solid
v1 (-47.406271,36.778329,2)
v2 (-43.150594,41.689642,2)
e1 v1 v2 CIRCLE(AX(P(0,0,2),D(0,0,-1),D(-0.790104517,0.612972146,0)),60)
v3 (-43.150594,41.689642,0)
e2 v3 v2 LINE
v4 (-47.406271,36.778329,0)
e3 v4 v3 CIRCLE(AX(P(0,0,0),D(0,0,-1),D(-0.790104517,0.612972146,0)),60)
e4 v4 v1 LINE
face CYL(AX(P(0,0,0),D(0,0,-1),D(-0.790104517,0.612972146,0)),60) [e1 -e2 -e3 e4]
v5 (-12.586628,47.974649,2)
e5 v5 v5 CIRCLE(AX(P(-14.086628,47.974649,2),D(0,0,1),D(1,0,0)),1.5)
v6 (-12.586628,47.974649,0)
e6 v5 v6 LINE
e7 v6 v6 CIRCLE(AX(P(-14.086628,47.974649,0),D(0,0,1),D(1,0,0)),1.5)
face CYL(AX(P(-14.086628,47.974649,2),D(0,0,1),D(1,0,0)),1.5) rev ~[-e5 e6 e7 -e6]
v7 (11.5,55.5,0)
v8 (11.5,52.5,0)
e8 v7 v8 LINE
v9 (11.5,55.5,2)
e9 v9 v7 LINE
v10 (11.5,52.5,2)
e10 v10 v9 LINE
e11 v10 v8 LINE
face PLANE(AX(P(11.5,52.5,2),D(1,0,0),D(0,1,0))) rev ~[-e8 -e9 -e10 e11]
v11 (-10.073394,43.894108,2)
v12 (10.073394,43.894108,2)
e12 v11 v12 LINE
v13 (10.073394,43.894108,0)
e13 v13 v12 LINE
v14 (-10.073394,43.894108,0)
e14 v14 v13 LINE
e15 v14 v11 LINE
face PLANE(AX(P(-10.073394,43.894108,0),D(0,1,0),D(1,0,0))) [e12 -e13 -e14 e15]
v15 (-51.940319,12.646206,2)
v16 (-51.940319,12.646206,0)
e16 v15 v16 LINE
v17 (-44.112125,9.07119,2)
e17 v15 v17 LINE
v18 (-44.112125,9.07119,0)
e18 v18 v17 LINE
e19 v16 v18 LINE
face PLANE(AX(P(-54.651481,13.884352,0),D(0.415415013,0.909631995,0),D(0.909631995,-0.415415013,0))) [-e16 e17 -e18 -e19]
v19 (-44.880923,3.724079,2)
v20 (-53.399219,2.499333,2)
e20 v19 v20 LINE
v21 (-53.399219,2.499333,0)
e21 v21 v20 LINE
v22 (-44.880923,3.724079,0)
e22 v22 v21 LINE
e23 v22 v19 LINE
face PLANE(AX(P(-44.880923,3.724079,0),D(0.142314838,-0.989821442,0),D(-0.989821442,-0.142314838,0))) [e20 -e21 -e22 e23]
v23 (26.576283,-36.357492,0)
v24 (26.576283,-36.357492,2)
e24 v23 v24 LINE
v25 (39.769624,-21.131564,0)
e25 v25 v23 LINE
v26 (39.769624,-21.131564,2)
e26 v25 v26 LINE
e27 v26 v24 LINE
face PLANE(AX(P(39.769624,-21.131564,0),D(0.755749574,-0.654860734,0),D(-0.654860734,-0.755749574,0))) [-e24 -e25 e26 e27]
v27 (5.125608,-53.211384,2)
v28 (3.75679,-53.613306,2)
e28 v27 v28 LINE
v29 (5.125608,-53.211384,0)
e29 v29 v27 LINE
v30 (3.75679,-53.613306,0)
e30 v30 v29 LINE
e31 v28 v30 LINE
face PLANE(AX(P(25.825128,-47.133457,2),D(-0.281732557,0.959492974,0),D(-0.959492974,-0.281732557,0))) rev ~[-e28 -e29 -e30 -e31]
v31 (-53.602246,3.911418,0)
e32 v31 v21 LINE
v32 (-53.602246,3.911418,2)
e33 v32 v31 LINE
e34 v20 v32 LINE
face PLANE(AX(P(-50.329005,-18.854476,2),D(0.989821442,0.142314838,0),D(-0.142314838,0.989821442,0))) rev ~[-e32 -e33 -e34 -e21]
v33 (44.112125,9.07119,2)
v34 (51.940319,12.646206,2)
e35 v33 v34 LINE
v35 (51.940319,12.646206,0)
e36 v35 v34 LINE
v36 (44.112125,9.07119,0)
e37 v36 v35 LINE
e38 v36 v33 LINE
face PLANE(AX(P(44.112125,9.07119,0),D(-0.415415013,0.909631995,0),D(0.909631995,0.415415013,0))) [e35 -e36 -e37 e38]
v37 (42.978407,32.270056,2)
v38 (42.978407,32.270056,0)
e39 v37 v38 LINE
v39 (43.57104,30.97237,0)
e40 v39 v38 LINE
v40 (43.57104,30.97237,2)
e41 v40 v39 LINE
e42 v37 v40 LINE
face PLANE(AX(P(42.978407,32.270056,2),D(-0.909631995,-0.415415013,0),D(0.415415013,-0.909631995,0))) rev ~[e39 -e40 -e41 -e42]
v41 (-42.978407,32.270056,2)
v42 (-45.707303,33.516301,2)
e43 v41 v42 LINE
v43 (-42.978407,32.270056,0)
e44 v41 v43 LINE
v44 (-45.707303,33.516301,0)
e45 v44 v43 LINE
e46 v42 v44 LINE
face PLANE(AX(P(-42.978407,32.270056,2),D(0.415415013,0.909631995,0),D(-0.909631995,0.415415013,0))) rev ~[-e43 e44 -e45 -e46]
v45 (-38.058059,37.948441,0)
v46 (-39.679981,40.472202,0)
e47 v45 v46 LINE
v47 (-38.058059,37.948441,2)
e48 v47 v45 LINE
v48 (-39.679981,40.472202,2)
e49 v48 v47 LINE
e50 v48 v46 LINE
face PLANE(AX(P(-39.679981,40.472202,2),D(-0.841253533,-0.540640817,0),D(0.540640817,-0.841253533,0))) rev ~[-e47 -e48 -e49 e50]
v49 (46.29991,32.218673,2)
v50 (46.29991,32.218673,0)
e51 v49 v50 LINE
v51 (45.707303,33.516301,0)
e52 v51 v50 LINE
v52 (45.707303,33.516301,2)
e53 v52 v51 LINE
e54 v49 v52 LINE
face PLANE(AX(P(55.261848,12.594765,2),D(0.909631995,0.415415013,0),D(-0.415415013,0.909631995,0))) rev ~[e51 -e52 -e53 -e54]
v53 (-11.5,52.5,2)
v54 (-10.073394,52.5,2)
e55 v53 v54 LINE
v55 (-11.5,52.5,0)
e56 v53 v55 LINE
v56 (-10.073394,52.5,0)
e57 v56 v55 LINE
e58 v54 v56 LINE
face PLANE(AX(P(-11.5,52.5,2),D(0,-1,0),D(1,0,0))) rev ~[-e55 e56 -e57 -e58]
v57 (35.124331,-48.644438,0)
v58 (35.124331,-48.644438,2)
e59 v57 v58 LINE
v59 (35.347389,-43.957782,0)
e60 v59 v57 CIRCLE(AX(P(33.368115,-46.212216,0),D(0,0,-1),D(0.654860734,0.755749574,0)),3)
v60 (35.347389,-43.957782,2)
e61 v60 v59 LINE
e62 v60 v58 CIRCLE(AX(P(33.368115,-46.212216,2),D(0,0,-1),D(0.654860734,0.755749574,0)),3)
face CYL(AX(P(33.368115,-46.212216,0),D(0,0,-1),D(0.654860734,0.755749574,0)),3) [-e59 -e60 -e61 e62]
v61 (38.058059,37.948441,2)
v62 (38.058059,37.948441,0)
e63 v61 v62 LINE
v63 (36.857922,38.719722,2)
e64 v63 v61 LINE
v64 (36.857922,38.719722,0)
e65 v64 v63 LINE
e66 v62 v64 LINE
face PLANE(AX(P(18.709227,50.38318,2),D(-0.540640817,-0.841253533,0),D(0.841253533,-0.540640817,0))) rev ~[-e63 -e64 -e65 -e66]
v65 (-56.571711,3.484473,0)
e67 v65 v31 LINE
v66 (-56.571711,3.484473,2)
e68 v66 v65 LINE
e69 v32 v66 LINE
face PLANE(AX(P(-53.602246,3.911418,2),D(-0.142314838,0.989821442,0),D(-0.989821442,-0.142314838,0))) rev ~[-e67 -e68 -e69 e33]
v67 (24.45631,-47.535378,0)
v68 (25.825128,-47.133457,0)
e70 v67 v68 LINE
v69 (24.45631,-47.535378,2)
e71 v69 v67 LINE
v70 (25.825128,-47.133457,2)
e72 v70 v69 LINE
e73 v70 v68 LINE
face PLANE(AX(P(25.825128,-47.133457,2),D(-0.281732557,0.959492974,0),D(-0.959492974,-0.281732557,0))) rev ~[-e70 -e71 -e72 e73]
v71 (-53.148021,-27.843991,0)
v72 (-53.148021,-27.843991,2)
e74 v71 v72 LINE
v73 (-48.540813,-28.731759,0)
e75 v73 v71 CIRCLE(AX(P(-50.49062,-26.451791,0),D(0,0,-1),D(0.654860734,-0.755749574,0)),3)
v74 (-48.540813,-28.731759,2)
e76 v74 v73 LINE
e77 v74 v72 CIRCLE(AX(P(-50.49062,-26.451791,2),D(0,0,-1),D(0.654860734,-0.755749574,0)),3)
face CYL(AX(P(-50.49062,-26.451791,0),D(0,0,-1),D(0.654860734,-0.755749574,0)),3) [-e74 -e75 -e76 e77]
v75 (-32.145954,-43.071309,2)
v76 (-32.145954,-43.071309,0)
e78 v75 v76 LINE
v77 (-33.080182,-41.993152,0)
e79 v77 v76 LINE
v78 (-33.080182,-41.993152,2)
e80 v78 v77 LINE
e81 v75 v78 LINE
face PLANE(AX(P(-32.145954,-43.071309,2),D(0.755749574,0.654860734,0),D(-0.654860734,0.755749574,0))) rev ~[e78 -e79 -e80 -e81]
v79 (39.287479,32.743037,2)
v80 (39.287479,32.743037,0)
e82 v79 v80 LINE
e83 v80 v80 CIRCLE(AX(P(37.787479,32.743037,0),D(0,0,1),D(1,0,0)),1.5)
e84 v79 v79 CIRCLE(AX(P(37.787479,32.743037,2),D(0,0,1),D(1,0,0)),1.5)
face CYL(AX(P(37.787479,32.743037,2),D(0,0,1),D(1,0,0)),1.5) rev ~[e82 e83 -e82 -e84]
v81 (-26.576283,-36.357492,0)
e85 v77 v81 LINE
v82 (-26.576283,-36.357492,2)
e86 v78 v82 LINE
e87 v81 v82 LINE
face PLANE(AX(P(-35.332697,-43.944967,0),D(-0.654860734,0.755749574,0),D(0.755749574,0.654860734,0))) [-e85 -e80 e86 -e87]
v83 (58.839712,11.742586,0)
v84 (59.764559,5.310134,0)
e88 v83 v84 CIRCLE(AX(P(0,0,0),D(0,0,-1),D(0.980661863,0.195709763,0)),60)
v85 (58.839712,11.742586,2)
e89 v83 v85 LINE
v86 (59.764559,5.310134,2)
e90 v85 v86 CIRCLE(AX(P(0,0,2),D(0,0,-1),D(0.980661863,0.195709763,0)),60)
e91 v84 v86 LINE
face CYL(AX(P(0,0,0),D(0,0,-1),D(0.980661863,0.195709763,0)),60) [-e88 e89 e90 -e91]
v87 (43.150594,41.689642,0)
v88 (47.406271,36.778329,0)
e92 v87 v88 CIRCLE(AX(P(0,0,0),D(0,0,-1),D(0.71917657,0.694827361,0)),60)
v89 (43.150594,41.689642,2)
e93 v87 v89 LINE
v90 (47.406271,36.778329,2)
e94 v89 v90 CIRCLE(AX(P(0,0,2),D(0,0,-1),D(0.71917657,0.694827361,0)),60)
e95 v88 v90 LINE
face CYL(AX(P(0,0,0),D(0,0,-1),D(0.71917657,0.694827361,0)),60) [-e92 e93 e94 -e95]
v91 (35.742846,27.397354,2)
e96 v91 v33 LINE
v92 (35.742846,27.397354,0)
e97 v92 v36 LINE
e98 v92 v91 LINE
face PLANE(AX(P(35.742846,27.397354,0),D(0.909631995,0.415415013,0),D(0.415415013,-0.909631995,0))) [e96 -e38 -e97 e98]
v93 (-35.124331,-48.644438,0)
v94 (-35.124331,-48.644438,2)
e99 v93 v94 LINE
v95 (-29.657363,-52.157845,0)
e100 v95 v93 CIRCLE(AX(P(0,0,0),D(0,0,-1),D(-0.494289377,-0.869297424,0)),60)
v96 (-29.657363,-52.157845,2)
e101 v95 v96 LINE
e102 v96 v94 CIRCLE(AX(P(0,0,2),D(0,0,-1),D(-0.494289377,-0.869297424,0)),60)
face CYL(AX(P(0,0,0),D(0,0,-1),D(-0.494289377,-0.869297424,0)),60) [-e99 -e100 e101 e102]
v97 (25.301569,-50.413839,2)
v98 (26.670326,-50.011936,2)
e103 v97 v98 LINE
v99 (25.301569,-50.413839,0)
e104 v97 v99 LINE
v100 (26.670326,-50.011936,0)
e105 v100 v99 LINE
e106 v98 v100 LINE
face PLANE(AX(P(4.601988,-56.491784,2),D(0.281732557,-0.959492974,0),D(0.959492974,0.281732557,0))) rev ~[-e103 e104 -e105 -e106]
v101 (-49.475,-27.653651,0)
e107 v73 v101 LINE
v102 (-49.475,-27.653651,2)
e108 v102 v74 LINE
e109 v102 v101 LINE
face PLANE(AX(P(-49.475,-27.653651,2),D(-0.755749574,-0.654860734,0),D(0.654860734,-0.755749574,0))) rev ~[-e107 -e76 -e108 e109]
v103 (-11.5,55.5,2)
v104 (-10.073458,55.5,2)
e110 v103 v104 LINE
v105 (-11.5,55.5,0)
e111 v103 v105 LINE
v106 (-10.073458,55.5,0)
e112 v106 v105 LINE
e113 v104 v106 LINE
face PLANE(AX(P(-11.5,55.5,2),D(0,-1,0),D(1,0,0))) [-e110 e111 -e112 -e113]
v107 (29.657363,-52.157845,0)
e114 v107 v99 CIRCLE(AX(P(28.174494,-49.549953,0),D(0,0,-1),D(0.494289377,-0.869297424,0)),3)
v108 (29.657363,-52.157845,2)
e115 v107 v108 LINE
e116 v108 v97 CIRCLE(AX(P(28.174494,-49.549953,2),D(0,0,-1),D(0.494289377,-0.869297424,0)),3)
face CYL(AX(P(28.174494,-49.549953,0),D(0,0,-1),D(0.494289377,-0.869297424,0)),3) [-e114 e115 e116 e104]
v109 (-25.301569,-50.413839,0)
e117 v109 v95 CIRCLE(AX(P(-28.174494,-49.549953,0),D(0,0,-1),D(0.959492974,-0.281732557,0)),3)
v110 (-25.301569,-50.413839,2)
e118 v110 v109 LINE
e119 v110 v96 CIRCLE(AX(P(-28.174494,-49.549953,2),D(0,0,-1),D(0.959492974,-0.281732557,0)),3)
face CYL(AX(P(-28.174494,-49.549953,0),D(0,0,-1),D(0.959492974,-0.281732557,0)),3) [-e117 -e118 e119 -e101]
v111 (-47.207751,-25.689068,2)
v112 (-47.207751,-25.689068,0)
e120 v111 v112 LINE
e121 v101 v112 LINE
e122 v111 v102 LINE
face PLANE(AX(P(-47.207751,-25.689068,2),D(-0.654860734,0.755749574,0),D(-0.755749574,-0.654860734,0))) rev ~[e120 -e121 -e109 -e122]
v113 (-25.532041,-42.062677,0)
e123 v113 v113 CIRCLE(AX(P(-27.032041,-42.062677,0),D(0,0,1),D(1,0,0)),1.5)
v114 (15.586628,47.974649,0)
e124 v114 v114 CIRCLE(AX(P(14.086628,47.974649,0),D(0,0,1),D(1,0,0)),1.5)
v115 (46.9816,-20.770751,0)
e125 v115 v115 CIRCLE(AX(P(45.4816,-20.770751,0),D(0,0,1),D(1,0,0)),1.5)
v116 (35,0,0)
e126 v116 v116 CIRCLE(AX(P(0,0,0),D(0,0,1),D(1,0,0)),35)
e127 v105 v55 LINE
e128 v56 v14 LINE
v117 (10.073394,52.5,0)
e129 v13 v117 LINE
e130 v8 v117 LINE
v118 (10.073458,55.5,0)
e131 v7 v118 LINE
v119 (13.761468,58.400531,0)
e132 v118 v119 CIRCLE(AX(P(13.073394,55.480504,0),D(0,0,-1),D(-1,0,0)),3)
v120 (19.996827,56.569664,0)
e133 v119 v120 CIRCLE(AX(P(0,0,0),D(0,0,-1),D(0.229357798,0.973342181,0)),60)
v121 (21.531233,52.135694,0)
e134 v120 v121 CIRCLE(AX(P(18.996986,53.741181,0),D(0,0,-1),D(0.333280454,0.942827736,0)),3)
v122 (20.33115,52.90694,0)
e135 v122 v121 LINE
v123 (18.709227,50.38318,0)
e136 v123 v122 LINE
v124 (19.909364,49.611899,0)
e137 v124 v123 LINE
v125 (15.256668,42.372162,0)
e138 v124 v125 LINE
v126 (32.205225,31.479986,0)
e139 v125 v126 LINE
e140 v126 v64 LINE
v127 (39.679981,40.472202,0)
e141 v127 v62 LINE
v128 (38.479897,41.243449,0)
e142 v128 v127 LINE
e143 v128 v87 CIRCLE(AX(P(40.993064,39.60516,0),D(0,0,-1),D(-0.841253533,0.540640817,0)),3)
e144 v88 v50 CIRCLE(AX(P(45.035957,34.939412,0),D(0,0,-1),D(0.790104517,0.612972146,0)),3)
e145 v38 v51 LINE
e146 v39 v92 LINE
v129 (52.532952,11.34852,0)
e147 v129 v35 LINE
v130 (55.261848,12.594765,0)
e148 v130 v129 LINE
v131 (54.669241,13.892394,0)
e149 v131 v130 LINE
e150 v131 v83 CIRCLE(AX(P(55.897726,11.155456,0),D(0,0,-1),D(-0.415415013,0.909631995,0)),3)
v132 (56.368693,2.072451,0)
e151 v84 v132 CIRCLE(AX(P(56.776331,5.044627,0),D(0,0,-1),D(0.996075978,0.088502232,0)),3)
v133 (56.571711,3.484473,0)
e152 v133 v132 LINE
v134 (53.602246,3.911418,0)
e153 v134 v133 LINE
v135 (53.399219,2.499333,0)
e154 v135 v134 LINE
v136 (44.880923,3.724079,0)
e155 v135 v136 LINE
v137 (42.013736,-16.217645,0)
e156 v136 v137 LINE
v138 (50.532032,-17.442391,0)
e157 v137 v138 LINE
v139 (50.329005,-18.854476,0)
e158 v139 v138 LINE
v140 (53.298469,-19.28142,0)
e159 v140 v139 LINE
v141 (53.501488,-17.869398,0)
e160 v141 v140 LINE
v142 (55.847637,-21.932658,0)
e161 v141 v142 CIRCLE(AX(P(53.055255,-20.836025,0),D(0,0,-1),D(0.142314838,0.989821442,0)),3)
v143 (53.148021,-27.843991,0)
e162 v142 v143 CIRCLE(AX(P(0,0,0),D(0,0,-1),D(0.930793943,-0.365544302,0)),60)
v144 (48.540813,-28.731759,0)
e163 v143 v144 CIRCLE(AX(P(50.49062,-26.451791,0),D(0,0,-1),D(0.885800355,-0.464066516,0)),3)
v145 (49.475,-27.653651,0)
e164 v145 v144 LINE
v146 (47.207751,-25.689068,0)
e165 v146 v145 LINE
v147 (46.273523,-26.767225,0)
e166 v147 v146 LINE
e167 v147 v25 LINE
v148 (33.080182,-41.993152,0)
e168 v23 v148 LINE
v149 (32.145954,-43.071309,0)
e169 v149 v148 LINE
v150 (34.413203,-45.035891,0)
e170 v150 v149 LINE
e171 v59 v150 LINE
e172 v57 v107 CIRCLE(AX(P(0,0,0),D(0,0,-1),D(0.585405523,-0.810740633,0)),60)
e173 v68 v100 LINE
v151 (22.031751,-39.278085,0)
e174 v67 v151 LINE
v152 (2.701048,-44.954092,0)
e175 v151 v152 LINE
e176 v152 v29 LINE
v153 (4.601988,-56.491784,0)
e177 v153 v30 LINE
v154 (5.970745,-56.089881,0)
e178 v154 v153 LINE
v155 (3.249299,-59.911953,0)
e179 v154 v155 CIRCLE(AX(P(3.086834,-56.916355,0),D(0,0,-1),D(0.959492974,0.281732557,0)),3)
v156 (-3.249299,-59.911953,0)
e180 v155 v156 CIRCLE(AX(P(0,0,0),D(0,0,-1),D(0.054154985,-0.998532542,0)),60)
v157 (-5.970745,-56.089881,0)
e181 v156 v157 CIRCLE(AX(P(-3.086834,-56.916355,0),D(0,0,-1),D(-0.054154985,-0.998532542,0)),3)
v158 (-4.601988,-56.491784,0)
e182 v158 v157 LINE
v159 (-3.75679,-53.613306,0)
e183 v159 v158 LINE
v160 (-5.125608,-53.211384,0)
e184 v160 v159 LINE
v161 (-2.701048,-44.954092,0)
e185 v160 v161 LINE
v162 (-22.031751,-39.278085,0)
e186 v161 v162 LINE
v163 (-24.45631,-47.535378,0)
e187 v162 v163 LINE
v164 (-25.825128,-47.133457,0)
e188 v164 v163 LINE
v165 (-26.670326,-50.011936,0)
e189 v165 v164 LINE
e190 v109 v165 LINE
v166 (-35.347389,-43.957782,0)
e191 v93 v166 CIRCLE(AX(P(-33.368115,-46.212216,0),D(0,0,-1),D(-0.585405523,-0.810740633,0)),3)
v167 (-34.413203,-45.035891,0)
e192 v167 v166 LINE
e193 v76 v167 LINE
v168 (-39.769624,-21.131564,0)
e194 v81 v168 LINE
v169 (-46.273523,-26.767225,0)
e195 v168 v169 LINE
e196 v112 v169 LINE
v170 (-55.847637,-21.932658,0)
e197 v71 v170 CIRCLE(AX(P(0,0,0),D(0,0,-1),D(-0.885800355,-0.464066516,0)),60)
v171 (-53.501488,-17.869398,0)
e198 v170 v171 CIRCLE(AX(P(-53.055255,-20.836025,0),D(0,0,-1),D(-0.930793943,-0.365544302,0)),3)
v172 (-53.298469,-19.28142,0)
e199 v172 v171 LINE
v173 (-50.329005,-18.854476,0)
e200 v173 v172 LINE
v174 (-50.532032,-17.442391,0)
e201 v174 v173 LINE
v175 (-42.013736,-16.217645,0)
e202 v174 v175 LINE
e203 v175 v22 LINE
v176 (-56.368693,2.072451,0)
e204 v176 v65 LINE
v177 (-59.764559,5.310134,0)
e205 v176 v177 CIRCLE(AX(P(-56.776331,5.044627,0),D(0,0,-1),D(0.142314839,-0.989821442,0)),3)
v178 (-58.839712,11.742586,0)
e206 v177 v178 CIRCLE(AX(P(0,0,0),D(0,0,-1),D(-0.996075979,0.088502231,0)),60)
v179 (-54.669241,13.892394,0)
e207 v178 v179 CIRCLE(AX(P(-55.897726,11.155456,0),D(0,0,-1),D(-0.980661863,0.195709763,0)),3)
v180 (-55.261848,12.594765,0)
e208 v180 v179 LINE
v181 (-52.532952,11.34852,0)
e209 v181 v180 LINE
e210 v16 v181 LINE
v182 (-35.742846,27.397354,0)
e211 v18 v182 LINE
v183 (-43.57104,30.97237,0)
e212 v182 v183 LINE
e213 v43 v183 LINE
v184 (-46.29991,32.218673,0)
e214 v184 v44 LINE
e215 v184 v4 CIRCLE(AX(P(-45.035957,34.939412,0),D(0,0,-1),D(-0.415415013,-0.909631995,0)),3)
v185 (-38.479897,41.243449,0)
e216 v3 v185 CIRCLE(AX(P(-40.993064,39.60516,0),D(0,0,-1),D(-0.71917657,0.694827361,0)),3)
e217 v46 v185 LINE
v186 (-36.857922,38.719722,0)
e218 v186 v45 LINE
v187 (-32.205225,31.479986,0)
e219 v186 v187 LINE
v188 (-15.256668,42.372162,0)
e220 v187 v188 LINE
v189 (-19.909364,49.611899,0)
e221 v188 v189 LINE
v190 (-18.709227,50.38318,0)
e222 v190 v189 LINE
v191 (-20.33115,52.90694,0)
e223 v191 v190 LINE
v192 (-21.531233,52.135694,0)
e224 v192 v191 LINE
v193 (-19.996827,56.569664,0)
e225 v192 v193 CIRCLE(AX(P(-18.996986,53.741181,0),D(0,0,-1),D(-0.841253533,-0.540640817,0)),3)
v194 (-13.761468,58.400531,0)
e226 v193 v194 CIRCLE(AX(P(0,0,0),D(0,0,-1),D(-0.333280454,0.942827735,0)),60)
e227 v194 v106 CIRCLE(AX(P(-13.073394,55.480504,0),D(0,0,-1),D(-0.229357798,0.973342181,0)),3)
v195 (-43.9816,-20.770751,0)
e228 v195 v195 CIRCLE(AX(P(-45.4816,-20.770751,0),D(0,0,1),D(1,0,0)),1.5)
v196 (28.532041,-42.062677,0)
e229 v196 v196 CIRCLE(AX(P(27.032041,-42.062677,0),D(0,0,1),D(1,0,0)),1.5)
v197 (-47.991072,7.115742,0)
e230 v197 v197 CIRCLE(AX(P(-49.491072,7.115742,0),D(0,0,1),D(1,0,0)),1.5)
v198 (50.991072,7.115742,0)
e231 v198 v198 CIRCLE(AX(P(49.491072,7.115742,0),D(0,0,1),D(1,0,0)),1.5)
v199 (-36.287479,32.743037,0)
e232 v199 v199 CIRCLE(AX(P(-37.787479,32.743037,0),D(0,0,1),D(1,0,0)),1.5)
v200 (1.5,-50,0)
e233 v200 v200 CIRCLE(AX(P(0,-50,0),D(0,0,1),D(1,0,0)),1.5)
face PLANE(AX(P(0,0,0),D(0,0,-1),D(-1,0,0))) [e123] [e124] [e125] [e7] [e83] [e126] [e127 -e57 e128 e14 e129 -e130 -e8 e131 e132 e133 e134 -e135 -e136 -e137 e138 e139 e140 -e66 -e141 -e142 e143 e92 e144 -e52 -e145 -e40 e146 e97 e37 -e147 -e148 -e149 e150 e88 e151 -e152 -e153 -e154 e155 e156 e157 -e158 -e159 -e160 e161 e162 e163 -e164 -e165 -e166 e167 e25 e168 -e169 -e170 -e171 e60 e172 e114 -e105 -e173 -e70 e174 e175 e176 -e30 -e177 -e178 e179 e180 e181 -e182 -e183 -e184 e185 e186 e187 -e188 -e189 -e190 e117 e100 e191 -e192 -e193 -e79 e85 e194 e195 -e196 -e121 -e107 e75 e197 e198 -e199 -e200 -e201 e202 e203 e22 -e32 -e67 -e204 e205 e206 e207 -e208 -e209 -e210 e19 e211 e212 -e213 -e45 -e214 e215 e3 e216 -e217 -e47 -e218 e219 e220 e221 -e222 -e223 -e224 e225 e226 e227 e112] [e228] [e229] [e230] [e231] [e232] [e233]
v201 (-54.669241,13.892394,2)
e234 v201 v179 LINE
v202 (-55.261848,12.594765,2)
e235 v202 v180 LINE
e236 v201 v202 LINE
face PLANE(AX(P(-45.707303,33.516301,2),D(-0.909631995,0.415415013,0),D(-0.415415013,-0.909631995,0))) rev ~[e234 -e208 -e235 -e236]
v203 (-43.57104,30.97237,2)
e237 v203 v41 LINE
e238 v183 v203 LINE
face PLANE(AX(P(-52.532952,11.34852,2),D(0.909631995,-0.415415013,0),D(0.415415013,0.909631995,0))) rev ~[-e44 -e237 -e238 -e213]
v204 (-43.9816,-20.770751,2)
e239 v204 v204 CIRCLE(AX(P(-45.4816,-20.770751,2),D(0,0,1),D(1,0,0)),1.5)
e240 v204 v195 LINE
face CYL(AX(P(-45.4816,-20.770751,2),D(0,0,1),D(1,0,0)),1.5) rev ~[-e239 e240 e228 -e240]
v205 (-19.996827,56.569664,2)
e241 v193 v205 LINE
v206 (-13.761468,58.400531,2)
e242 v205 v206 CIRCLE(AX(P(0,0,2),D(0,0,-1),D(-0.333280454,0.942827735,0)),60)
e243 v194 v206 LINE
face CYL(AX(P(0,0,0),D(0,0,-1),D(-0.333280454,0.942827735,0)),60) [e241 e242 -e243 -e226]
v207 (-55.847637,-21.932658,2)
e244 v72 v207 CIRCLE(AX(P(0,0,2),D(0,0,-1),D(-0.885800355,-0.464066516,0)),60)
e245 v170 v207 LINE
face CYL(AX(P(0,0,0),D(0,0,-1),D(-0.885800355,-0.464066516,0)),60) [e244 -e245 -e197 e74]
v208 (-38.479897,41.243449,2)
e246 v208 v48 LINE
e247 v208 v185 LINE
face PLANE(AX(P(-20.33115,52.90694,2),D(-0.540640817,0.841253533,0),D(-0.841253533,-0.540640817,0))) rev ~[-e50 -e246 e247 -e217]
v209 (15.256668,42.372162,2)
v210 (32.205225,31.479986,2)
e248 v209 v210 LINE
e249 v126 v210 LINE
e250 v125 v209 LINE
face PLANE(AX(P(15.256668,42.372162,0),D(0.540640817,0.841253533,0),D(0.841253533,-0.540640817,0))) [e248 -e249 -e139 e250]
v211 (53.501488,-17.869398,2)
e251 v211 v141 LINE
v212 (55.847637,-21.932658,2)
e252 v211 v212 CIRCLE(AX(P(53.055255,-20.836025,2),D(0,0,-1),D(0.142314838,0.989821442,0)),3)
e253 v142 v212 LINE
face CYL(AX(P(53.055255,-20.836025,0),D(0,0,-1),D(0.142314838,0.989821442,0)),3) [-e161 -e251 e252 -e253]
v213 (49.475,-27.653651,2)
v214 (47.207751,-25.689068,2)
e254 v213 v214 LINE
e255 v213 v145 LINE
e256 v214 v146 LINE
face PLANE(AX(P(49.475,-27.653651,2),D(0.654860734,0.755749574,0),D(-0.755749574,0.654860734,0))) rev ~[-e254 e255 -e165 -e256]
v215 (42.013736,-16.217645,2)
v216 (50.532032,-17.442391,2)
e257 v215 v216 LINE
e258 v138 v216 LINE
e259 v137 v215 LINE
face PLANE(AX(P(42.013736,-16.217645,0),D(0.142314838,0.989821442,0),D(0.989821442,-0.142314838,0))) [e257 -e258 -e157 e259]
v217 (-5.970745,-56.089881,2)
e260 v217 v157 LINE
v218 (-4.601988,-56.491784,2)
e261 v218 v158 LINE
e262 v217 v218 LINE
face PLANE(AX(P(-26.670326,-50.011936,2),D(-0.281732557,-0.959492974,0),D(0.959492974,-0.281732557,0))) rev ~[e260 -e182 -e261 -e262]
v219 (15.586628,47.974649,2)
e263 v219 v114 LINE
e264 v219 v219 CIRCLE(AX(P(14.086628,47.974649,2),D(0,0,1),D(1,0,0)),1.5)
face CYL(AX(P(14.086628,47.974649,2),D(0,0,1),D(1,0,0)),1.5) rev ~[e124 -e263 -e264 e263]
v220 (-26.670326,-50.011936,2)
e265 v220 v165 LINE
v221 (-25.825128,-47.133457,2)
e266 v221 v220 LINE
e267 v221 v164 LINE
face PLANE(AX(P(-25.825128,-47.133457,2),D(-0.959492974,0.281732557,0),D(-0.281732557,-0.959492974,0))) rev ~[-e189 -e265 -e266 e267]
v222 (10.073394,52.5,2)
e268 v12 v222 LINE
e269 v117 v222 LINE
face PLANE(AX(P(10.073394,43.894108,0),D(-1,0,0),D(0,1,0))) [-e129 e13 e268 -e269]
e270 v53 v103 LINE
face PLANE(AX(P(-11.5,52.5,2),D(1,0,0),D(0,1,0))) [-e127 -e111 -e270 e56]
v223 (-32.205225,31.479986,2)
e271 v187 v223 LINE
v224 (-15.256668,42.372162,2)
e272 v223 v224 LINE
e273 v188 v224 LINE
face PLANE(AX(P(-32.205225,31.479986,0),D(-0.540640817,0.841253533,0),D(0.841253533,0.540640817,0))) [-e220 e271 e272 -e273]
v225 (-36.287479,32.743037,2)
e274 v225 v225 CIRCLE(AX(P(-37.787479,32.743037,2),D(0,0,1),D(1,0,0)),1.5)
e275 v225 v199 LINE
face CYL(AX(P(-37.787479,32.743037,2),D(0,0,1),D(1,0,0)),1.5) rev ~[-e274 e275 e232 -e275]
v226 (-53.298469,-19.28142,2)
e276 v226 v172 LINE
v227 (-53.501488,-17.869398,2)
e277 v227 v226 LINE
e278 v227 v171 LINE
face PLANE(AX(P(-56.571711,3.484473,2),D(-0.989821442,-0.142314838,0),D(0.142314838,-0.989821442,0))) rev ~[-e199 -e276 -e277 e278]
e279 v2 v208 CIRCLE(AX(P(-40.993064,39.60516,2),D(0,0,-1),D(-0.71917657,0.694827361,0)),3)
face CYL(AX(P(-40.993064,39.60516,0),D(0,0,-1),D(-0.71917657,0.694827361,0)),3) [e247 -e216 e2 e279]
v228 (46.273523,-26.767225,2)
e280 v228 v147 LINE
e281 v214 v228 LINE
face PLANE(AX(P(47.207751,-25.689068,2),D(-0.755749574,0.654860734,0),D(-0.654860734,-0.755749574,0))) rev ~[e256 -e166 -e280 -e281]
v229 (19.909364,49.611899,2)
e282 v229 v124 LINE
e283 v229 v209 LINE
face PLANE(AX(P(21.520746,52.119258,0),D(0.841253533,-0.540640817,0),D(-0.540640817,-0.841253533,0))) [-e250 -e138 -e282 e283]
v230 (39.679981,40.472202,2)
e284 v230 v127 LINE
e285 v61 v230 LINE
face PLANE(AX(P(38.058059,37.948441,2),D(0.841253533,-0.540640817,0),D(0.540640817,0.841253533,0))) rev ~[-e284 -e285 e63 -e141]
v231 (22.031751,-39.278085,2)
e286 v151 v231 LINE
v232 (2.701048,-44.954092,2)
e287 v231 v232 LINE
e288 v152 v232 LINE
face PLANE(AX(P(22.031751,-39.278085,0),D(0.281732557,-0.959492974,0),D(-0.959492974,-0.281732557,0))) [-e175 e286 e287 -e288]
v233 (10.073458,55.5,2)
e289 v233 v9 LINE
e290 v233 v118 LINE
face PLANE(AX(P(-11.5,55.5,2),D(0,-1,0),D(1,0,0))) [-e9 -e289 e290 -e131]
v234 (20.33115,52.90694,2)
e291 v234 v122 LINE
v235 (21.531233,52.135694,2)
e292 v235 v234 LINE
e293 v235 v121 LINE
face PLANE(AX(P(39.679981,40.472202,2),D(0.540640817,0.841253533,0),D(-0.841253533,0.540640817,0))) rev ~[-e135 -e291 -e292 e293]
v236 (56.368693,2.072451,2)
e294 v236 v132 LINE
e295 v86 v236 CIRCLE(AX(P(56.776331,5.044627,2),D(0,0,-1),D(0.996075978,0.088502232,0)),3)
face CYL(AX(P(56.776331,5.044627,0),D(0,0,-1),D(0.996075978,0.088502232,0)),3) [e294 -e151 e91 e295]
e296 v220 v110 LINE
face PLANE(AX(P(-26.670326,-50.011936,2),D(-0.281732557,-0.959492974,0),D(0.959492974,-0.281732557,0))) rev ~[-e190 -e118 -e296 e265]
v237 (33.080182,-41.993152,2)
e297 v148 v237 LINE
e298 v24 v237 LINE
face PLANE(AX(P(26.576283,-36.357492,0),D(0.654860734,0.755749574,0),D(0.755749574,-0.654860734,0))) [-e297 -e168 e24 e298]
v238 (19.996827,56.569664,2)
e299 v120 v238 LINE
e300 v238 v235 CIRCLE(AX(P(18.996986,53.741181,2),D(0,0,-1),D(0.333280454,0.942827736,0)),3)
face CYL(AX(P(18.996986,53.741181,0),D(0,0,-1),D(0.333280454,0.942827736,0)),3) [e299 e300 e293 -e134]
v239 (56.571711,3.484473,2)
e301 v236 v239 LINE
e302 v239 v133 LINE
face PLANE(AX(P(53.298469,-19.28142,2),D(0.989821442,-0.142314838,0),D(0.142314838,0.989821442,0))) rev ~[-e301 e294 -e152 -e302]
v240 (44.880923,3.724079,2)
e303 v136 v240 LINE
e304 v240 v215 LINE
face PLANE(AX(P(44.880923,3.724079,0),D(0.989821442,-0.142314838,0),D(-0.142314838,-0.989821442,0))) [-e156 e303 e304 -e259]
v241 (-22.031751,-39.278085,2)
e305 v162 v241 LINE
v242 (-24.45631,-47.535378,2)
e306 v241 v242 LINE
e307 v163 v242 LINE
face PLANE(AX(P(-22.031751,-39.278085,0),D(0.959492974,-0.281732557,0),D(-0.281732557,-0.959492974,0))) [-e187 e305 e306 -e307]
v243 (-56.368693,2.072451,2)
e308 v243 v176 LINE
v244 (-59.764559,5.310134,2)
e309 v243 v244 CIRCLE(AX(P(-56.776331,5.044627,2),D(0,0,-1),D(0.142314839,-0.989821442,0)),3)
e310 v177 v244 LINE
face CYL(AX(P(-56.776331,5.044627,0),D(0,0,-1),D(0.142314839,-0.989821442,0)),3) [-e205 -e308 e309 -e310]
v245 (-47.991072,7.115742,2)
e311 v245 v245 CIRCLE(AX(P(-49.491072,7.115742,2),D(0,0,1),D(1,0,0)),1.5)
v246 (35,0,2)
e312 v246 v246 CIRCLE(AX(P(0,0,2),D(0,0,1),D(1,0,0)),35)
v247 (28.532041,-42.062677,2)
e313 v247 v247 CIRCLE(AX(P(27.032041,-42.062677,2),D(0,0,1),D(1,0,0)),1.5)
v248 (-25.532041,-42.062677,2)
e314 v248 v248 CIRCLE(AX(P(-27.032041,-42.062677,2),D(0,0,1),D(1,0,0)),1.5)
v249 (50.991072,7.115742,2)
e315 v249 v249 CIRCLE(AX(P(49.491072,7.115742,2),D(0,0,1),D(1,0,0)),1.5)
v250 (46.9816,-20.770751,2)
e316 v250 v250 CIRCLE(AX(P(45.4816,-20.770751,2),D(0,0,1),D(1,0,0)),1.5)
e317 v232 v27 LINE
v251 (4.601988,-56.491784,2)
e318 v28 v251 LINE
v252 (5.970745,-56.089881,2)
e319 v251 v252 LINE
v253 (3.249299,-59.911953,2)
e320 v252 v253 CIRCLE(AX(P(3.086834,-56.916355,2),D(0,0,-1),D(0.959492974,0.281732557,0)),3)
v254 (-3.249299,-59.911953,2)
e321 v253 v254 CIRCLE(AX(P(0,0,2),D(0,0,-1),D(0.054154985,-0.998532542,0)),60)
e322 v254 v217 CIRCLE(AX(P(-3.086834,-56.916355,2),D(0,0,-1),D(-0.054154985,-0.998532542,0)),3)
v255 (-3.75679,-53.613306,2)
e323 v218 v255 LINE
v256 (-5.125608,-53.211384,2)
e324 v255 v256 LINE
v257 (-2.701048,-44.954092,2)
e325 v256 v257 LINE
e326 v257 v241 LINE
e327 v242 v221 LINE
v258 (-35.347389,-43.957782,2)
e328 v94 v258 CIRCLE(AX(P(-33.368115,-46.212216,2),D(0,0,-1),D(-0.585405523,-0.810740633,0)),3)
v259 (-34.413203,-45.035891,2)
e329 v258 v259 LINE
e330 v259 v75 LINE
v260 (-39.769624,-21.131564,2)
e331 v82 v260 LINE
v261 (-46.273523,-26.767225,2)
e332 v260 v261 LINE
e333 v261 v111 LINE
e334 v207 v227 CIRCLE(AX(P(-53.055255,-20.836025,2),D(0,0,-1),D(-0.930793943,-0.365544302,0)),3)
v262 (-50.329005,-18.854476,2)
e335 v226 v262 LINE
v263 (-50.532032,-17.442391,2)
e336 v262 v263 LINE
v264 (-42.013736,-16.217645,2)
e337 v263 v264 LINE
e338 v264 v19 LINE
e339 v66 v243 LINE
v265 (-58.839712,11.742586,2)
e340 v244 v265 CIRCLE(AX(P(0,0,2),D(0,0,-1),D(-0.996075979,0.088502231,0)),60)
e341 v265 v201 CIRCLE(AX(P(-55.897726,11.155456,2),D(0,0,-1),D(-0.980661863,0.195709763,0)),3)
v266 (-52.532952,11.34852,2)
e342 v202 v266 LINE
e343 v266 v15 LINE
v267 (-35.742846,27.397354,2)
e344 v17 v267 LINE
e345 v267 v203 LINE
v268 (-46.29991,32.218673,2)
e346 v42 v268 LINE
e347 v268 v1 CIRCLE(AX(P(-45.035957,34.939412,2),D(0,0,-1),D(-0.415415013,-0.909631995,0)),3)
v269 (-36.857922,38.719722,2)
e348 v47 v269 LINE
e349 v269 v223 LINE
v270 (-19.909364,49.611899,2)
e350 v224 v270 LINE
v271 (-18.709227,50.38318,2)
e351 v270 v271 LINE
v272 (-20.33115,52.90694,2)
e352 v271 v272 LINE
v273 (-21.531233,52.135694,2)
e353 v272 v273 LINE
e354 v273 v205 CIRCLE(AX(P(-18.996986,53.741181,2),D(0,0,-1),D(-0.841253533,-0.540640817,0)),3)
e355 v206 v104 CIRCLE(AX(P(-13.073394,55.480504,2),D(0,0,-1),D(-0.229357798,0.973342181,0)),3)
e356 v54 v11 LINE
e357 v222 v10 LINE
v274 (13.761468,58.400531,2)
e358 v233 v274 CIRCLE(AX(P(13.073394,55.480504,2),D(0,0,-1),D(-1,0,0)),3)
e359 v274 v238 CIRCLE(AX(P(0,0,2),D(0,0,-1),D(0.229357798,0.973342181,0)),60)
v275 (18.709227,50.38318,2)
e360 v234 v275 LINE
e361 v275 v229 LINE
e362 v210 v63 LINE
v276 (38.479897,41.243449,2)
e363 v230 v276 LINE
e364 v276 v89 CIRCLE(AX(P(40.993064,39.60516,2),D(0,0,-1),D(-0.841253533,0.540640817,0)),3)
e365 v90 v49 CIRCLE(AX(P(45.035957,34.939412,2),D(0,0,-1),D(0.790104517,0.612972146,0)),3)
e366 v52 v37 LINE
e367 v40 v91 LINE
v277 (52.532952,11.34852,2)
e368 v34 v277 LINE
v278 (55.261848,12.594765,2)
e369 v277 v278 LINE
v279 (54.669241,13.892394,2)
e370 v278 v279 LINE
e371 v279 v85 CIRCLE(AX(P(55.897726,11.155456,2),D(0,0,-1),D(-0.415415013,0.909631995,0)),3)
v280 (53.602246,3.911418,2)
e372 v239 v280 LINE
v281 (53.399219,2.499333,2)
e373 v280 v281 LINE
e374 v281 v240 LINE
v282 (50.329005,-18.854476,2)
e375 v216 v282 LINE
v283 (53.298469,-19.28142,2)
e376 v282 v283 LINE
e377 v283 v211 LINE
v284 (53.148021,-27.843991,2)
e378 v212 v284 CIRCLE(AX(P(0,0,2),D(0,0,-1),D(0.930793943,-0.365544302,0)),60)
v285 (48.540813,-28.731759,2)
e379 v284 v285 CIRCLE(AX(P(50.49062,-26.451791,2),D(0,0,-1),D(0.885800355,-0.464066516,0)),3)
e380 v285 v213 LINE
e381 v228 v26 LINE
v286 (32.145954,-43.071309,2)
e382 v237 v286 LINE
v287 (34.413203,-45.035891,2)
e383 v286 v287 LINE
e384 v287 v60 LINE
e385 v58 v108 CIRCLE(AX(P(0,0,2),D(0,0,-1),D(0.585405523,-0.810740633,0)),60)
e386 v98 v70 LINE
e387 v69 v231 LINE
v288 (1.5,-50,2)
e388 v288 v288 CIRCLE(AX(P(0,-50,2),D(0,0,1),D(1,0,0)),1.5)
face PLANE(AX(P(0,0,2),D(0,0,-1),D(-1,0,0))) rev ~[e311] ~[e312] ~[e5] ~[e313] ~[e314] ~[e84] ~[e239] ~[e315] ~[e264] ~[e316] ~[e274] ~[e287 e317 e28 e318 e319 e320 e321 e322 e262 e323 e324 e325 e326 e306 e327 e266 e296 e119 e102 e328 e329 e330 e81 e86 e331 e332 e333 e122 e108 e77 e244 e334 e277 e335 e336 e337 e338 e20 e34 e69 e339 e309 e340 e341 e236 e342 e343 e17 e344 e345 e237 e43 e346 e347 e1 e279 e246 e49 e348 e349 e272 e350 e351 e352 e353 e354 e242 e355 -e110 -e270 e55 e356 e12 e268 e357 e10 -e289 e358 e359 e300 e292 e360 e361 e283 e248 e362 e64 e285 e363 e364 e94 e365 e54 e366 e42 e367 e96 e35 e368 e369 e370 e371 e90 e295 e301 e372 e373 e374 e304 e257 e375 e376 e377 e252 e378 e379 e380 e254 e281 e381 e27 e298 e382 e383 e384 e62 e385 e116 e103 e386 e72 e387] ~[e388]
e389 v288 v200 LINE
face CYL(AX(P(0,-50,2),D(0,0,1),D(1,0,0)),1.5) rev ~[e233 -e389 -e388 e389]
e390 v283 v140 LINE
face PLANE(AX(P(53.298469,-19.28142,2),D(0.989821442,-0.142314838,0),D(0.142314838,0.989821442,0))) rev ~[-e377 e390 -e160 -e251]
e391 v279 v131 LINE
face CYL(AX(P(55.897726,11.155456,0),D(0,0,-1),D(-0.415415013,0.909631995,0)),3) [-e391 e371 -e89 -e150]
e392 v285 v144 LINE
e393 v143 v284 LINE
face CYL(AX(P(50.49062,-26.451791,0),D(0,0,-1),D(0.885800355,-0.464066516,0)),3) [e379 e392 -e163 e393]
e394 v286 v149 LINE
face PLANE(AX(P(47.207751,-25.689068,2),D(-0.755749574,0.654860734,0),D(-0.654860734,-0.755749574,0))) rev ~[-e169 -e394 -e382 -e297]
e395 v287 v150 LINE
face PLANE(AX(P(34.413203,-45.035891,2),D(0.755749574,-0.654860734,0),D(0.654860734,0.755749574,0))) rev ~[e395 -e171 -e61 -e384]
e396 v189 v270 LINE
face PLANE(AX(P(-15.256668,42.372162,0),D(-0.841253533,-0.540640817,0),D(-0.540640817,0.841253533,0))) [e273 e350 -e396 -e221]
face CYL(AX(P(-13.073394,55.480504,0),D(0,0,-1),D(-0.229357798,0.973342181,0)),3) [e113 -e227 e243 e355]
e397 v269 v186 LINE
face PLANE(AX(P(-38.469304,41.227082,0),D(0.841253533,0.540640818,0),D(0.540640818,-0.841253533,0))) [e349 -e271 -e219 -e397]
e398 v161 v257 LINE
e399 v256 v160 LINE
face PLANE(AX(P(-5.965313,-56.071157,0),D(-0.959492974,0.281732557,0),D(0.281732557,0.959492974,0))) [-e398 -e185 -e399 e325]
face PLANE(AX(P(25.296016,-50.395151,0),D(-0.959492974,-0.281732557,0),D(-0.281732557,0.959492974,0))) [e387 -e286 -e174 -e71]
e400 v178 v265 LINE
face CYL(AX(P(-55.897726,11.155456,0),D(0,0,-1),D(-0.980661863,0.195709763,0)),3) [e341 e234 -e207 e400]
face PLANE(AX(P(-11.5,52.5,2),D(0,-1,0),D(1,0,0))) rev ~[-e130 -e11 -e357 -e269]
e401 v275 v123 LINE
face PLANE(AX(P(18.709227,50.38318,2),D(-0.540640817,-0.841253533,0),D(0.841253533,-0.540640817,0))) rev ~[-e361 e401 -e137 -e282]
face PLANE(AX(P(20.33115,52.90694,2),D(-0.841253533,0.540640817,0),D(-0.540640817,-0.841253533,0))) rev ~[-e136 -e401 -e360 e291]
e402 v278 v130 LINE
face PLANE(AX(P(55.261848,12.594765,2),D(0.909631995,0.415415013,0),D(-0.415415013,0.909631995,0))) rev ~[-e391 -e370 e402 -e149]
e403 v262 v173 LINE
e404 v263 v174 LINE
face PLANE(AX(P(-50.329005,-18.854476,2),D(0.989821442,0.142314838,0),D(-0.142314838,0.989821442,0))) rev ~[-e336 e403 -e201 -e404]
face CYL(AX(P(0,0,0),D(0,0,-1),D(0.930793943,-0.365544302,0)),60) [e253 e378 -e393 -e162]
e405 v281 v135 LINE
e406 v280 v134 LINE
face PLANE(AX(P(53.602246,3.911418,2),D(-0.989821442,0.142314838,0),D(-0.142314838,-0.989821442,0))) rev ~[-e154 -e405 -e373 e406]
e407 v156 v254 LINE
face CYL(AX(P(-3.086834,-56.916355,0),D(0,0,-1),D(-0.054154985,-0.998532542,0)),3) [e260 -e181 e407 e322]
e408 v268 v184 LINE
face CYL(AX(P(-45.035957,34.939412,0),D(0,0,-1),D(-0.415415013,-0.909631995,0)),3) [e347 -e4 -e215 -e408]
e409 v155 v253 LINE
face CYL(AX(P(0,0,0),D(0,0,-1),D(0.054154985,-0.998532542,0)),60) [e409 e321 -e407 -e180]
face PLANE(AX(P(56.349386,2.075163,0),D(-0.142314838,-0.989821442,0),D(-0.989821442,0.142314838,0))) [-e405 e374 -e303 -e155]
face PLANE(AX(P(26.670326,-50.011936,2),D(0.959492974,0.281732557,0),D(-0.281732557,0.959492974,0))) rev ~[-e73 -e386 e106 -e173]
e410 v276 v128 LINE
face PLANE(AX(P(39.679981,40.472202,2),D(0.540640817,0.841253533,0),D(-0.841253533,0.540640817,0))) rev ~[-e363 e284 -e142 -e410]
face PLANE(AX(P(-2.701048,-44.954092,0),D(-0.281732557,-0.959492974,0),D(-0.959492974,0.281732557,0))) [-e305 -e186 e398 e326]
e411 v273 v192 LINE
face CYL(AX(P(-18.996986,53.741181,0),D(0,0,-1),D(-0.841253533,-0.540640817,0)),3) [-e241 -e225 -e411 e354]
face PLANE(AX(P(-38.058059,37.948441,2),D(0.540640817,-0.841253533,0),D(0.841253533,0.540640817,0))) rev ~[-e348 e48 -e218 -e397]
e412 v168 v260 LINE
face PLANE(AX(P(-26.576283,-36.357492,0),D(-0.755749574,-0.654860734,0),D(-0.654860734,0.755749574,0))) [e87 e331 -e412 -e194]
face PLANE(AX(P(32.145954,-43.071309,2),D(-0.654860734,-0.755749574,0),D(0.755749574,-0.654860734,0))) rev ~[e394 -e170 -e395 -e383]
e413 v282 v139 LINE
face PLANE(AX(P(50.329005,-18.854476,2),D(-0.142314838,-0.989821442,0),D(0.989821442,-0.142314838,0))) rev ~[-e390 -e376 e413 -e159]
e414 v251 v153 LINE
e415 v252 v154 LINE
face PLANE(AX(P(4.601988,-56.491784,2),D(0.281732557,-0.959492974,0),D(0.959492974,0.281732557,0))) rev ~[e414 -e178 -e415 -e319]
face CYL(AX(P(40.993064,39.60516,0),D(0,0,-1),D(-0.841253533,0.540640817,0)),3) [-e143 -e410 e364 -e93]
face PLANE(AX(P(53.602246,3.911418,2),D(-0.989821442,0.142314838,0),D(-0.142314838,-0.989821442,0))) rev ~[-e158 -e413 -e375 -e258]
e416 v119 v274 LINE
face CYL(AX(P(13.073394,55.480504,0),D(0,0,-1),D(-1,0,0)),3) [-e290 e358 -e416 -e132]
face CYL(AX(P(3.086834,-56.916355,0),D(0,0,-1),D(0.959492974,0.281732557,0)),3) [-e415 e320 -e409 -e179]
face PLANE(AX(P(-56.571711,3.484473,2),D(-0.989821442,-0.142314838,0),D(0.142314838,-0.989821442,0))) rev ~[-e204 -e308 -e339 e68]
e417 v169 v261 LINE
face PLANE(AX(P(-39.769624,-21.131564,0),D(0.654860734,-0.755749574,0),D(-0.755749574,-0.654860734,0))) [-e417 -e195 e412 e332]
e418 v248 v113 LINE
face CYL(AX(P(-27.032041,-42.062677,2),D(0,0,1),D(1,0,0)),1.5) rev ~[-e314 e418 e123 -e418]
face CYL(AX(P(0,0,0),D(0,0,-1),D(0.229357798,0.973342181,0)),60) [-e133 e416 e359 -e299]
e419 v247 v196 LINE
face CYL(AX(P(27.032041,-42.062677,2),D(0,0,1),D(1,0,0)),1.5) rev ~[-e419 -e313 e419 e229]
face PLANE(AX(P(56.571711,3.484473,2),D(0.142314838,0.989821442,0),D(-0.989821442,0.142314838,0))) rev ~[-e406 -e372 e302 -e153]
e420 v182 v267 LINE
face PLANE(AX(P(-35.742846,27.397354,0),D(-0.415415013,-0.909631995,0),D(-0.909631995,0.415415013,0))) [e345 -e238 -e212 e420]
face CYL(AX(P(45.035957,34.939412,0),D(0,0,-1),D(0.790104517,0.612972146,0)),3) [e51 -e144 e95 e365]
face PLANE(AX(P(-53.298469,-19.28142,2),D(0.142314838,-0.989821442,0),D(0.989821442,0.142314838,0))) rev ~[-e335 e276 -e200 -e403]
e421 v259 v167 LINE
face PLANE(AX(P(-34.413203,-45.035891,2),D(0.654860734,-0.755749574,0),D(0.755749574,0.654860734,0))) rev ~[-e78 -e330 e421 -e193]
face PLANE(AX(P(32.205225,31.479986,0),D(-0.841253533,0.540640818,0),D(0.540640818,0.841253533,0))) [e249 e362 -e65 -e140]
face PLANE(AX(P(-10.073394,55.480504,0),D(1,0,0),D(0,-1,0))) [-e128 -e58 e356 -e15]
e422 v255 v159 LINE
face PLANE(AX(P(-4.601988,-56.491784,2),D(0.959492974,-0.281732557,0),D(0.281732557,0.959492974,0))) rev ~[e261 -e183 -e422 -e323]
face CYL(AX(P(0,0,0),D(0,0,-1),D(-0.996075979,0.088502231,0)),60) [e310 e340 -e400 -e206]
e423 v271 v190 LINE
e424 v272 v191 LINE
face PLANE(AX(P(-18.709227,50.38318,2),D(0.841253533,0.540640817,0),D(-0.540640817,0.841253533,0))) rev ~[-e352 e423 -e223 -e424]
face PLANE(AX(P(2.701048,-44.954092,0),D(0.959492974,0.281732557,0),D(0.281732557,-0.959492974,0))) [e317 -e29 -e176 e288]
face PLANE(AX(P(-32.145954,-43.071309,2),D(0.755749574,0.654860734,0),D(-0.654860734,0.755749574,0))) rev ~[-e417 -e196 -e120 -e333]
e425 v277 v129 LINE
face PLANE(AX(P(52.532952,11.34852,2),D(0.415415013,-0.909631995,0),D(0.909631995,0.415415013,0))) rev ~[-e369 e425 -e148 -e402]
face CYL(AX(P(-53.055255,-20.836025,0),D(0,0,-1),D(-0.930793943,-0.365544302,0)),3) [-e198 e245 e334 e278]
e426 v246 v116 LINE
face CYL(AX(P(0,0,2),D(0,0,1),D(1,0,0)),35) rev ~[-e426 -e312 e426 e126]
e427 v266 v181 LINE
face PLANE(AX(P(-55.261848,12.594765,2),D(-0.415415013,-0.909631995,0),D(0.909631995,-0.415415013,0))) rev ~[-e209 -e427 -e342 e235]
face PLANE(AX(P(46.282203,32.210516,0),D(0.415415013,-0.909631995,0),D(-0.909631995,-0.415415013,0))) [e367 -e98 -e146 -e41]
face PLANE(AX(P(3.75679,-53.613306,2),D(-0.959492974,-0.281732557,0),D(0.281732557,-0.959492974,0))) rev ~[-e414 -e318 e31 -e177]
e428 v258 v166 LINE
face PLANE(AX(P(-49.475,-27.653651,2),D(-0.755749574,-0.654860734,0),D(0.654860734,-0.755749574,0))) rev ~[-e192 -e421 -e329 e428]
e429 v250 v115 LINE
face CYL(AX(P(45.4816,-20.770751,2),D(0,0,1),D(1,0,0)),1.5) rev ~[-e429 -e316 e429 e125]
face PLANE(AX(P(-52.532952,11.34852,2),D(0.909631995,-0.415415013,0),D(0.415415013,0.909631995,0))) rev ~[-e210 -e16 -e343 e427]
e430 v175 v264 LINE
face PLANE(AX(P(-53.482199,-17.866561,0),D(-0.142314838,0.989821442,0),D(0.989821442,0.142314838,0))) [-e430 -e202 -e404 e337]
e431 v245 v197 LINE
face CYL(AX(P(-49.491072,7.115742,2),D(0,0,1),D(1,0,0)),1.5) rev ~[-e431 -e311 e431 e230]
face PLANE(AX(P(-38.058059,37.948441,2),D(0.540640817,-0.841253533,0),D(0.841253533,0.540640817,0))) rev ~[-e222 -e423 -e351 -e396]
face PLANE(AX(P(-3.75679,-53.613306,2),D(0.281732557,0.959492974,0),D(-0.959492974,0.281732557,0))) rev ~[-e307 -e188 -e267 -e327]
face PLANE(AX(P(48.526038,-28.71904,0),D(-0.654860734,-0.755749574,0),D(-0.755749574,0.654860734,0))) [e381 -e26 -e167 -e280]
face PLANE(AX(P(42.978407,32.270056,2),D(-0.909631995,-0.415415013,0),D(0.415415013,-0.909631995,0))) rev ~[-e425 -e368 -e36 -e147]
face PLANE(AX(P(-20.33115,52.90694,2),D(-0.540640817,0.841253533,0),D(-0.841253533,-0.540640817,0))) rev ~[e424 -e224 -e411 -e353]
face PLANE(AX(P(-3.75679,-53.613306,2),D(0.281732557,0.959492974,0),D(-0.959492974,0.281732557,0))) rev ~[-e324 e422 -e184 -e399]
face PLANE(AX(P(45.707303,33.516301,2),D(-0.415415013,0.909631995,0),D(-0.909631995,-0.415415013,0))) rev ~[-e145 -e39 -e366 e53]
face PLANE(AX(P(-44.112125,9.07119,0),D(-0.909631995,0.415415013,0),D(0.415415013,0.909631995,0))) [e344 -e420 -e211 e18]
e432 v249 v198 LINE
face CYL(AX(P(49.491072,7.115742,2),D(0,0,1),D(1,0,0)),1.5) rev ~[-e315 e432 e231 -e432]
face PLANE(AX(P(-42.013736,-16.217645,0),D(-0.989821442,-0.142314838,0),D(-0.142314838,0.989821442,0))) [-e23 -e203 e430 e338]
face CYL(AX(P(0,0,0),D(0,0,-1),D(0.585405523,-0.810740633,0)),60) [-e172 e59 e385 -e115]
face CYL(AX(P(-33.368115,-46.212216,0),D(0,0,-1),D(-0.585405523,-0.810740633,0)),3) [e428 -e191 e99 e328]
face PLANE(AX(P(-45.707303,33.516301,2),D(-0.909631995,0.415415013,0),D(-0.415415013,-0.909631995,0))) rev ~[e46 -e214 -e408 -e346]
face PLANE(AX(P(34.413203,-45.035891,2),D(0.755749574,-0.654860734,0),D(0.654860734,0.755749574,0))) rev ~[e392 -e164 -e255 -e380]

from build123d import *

# Parameters (mm, degrees)
BOSS_EXTRUDE1_DEPTH = 2
SKETCH2_R           = 35
CUT_EXTRUDE1_DEPTH  = 85.718414298
SKETCH4_R           = 1.5
CUT_EXTRUDE3_DEPTH  = 2
SKETCH5_W           = 23
SKETCH5_H           = 3
CUT_EXTRUDE4_DEPTH  = 85.718414298


with BuildPart() as part:
    # Sketch1 → Boss-Extrude1 (new body)
    with BuildSketch(Plane.XY):
        with BuildLine():
            Line((21.520746486, 52.119258472), (15.256667967, 42.372162038))
            Line((15.256667967, 42.372162038), (32.20522538, 31.479985569))
            Line((32.20522538, 31.479985569), (38.4693039, 41.227082003))
            ThreePointArc((38.4693039, 41.227082003), (40.698070229, 42.590620718), (43.150594208, 41.689641633))
            ThreePointArc((43.150594208, 41.689641633), (45.344974461, 39.291644037), (47.406271028, 36.778328771))
            ThreePointArc((47.406271028, 36.778328771), (47.949048893, 34.222545257), (46.282202516, 32.210516346))
            Line((46.282202516, 32.210516346), (35.742846148, 27.397353567))
            Line((35.742846148, 27.397353567), (44.112124759, 9.071189697))
            Line((44.112124759, 9.071189697), (54.651481127, 13.884352476))
            ThreePointArc((54.651481127, 13.884352476), (57.263623361, 13.826472187), (58.839711753, 11.742585779))
            ThreePointArc((58.839711753, 11.742585779), (59.389286513, 8.538890296), (59.764558712, 5.310133889))
            ThreePointArc((59.764558712, 5.310133889), (58.83941162, 2.86662411), (56.349386262, 2.075162869))
            Line((56.349386262, 2.075162869), (44.880923224, 3.724078919))
            Line((44.880923224, 3.724078919), (42.013736207, -16.217644809))
            Line((42.013736207, -16.217644809), (53.482199245, -17.86656086))
            ThreePointArc((53.482199245, -17.86656086), (55.648380681, -19.32748357), (55.847636558, -21.93265809))
            ThreePointArc((55.847636558, -21.93265809), (54.577919721, -24.92490078), (53.148021281, -27.843990983))
            ThreePointArc((53.148021281, -27.843990983), (51.048676897, -29.399429937), (48.526038015, -28.719040157))
            Line((48.526038015, -28.719040157), (39.76962429, -21.131564473))
            Line((39.76962429, -21.131564473), (26.576283265, -36.357491677))
            Line((26.576283265, -36.357491677), (35.33269699, -43.944967362))
            ThreePointArc((35.33269699, -43.944967362), (36.365170327, -46.345099856), (35.124331356, -48.644437984))
            ThreePointArc((35.124331356, -48.644437984), (32.438449047, -50.47521197), (29.657362619, -52.157845455))
            ThreePointArc((29.657362619, -52.157845455), (27.050347952, -52.331372705), (25.296015568, -50.395150852))
            Line((25.296015568, -50.395150852), (22.031750643, -39.278085453))
            Line((22.031750643, -39.278085453), (2.701048165, -44.954091828))
            Line((2.701048165, -44.954091828), (5.96531309, -56.071157227))
            ThreePointArc((5.96531309, -56.071157227), (5.536275339, -58.648474396), (3.249299125, -59.911952524))
            ThreePointArc((3.249299125, -59.911952524), (0, -60), (-3.249299125, -59.911952524))
            ThreePointArc((-3.249299125, -59.911952524), (-5.536275339, -58.648474396), (-5.96531309, -56.071157227))
            Line((-5.96531309, -56.071157227), (-2.701048165, -44.954091828))
            Line((-2.701048165, -44.954091828), (-22.031750643, -39.278085453))
            Line((-22.031750643, -39.278085453), (-25.296015568, -50.395150852))
            ThreePointArc((-25.296015568, -50.395150852), (-27.050347952, -52.331372705), (-29.657362619, -52.157845455))
            ThreePointArc((-29.657362619, -52.157845455), (-32.438449047, -50.47521197), (-35.124331356, -48.644437984))
            ThreePointArc((-35.124331356, -48.644437984), (-36.365170327, -46.345099856), (-35.33269699, -43.944967362))
            Line((-35.33269699, -43.944967362), (-26.576283265, -36.357491677))
            Line((-26.576283265, -36.357491677), (-39.76962429, -21.131564473))
            Line((-39.76962429, -21.131564473), (-48.526038015, -28.719040157))
            ThreePointArc((-48.526038015, -28.719040157), (-51.048676897, -29.399429937), (-53.148021281, -27.843990983))
            ThreePointArc((-53.148021281, -27.843990983), (-54.577919721, -24.92490078), (-55.847636558, -21.93265809))
            ThreePointArc((-55.847636558, -21.93265809), (-55.648380681, -19.32748357), (-53.482199245, -17.86656086))
            Line((-53.482199245, -17.86656086), (-42.013736207, -16.217644809))
            Line((-42.013736207, -16.217644809), (-44.880923224, 3.724078919))
            Line((-44.880923224, 3.724078919), (-56.349386262, 2.075162869))
            ThreePointArc((-56.349386262, 2.075162869), (-58.83941162, 2.86662411), (-59.764558712, 5.310133889))
            ThreePointArc((-59.764558712, 5.310133889), (-59.389286513, 8.538890296), (-58.839711753, 11.742585779))
            ThreePointArc((-58.839711753, 11.742585779), (-57.263623361, 13.826472187), (-54.651481127, 13.884352476))
            Line((-54.651481127, 13.884352476), (-44.112124759, 9.071189697))
            Line((-44.112124759, 9.071189697), (-35.742846148, 27.397353567))
            Line((-35.742846148, 27.397353567), (-46.282202516, 32.210516346))
            ThreePointArc((-46.282202516, 32.210516346), (-47.949048893, 34.222545257), (-47.406271028, 36.778328771))
            ThreePointArc((-47.406271028, 36.778328771), (-45.344974461, 39.291644037), (-43.150594208, 41.689641633))
            ThreePointArc((-43.150594208, 41.689641633), (-40.698070229, 42.590620718), (-38.4693039, 41.227082003))
            Line((-38.4693039, 41.227082003), (-32.20522538, 31.479985569))
            Line((-32.20522538, 31.479985569), (-15.256667967, 42.372162038))
            Line((-15.256667967, 42.372162038), (-21.520746486, 52.119258472))
            ThreePointArc((-21.520746486, 52.119258472), (-21.835201934, 54.713050089), (-19.99682725, 56.569664131))
            ThreePointArc((-19.99682725, 56.569664131), (-16.90395341, 57.569578417), (-13.76146789, 58.400530832))
            ThreePointArc((-13.76146789, 58.400530832), (-11.211167359, 57.832548102), (-10.073394495, 55.480504291))
            Line((-10.073394495, 55.480504291), (-10.073394495, 43.894108449))
            Line((-10.073394495, 43.894108449), (10.073394495, 43.894108449))
            Line((10.073394495, 43.894108449), (10.073394495, 55.480504291))
            ThreePointArc((10.073394495, 55.480504291), (11.211167359, 57.832548102), (13.76146789, 58.400530832))
            ThreePointArc((13.76146789, 58.400530832), (16.90395341, 57.569578417), (19.99682725, 56.569664131))
            ThreePointArc((19.99682725, 56.569664131), (21.835201934, 54.713050089), (21.520746486, 52.119258472))
        make_face()
    extrude(amount=BOSS_EXTRUDE1_DEPTH)

    # Sketch2 → Cut-Extrude1 (cut, through all)
    with BuildSketch(Plane.XY.offset(2)):
        Circle(SKETCH2_R)
    extrude(amount=-CUT_EXTRUDE1_DEPTH, mode=Mode.SUBTRACT)

    # Sketch4 → Cut-Extrude3 (cut)
    with BuildSketch(Plane.XY.offset(2)):
        with Locations((-14.086627842, 47.974648681)):
            Circle(SKETCH4_R)
        with Locations((14.086627842, 47.974648681)):
            Circle(SKETCH4_R)
        with Locations((37.787478718, 32.743036697)):
            Circle(SKETCH4_R)
        with Locations((49.491072094, 7.115741914)):
            Circle(SKETCH4_R)
        with Locations((45.481599768, -20.77075065)):
            Circle(SKETCH4_R)
        with Locations((27.032040873, -42.062676642)):
            Circle(SKETCH4_R)
        with Locations((0, -50)):
            Circle(SKETCH4_R)
        with Locations((-27.032040873, -42.062676642)):
            Circle(SKETCH4_R)
        with Locations((-45.481599768, -20.77075065)):
            Circle(SKETCH4_R)
        with Locations((-49.491072094, 7.115741914)):
            Circle(SKETCH4_R)
        with Locations((-37.787478718, 32.743036697)):
            Circle(SKETCH4_R)
    extrude(amount=-CUT_EXTRUDE3_DEPTH, mode=Mode.SUBTRACT)

    # Sketch5 → Cut-Extrude4 (cut, through all)
    with BuildSketch(Plane.XY.offset(2)):
        Polygon((20.331149741, 52.906940473), (18.709227289, 50.383179874), (38.058058544, 37.948441073), (39.679980996, 40.472201671), align=None)
        with Locations((0, 54)):
            Rectangle(SKETCH5_W, SKETCH5_H)
        Polygon((45.707303093, 33.516301168), (42.978407107, 32.270056129), (52.532952406, 11.348520236), (55.261848392, 12.594765275), align=None)
        Polygon((56.571710665, 3.484473057), (53.602246339, 3.911417572), (50.329005059, -18.854475591), (53.298469384, -19.281420106), align=None)
        Polygon((49.474999817, -27.653650629), (47.207751094, -25.689068427), (32.145954213, -43.071308637), (34.413202936, -45.035890839), align=None)
        Polygon((26.670326101, -50.011935632), (25.825128431, -47.133456711), (3.756790038, -53.613305518), (4.601987708, -56.491784439), align=None)
        Polygon((-4.601987708, -56.491784439), (-3.756790038, -53.613305518), (-25.825128431, -47.133456711), (-26.670326101, -50.011935632), align=None)
        Polygon((-34.413202936, -45.035890839), (-32.145954213, -43.071308637), (-47.207751094, -25.689068427), (-49.474999817, -27.653650629), align=None)
        Polygon((-53.298469384, -19.281420106), (-50.329005059, -18.854475591), (-53.602246339, 3.911417572), (-56.571710665, 3.484473057), align=None)
        Polygon((-55.261848392, 12.594765275), (-52.532952406, 11.348520236), (-42.978407107, 32.270056129), (-45.707303093, 33.516301168), align=None)
        Polygon((-39.679980996, 40.472201671), (-38.058058544, 37.948441073), (-18.709227289, 50.383179874), (-20.331149741, 52.906940473), align=None)
    extrude(amount=-CUT_EXTRUDE4_DEPTH, mode=Mode.SUBTRACT)


solid = part.part
